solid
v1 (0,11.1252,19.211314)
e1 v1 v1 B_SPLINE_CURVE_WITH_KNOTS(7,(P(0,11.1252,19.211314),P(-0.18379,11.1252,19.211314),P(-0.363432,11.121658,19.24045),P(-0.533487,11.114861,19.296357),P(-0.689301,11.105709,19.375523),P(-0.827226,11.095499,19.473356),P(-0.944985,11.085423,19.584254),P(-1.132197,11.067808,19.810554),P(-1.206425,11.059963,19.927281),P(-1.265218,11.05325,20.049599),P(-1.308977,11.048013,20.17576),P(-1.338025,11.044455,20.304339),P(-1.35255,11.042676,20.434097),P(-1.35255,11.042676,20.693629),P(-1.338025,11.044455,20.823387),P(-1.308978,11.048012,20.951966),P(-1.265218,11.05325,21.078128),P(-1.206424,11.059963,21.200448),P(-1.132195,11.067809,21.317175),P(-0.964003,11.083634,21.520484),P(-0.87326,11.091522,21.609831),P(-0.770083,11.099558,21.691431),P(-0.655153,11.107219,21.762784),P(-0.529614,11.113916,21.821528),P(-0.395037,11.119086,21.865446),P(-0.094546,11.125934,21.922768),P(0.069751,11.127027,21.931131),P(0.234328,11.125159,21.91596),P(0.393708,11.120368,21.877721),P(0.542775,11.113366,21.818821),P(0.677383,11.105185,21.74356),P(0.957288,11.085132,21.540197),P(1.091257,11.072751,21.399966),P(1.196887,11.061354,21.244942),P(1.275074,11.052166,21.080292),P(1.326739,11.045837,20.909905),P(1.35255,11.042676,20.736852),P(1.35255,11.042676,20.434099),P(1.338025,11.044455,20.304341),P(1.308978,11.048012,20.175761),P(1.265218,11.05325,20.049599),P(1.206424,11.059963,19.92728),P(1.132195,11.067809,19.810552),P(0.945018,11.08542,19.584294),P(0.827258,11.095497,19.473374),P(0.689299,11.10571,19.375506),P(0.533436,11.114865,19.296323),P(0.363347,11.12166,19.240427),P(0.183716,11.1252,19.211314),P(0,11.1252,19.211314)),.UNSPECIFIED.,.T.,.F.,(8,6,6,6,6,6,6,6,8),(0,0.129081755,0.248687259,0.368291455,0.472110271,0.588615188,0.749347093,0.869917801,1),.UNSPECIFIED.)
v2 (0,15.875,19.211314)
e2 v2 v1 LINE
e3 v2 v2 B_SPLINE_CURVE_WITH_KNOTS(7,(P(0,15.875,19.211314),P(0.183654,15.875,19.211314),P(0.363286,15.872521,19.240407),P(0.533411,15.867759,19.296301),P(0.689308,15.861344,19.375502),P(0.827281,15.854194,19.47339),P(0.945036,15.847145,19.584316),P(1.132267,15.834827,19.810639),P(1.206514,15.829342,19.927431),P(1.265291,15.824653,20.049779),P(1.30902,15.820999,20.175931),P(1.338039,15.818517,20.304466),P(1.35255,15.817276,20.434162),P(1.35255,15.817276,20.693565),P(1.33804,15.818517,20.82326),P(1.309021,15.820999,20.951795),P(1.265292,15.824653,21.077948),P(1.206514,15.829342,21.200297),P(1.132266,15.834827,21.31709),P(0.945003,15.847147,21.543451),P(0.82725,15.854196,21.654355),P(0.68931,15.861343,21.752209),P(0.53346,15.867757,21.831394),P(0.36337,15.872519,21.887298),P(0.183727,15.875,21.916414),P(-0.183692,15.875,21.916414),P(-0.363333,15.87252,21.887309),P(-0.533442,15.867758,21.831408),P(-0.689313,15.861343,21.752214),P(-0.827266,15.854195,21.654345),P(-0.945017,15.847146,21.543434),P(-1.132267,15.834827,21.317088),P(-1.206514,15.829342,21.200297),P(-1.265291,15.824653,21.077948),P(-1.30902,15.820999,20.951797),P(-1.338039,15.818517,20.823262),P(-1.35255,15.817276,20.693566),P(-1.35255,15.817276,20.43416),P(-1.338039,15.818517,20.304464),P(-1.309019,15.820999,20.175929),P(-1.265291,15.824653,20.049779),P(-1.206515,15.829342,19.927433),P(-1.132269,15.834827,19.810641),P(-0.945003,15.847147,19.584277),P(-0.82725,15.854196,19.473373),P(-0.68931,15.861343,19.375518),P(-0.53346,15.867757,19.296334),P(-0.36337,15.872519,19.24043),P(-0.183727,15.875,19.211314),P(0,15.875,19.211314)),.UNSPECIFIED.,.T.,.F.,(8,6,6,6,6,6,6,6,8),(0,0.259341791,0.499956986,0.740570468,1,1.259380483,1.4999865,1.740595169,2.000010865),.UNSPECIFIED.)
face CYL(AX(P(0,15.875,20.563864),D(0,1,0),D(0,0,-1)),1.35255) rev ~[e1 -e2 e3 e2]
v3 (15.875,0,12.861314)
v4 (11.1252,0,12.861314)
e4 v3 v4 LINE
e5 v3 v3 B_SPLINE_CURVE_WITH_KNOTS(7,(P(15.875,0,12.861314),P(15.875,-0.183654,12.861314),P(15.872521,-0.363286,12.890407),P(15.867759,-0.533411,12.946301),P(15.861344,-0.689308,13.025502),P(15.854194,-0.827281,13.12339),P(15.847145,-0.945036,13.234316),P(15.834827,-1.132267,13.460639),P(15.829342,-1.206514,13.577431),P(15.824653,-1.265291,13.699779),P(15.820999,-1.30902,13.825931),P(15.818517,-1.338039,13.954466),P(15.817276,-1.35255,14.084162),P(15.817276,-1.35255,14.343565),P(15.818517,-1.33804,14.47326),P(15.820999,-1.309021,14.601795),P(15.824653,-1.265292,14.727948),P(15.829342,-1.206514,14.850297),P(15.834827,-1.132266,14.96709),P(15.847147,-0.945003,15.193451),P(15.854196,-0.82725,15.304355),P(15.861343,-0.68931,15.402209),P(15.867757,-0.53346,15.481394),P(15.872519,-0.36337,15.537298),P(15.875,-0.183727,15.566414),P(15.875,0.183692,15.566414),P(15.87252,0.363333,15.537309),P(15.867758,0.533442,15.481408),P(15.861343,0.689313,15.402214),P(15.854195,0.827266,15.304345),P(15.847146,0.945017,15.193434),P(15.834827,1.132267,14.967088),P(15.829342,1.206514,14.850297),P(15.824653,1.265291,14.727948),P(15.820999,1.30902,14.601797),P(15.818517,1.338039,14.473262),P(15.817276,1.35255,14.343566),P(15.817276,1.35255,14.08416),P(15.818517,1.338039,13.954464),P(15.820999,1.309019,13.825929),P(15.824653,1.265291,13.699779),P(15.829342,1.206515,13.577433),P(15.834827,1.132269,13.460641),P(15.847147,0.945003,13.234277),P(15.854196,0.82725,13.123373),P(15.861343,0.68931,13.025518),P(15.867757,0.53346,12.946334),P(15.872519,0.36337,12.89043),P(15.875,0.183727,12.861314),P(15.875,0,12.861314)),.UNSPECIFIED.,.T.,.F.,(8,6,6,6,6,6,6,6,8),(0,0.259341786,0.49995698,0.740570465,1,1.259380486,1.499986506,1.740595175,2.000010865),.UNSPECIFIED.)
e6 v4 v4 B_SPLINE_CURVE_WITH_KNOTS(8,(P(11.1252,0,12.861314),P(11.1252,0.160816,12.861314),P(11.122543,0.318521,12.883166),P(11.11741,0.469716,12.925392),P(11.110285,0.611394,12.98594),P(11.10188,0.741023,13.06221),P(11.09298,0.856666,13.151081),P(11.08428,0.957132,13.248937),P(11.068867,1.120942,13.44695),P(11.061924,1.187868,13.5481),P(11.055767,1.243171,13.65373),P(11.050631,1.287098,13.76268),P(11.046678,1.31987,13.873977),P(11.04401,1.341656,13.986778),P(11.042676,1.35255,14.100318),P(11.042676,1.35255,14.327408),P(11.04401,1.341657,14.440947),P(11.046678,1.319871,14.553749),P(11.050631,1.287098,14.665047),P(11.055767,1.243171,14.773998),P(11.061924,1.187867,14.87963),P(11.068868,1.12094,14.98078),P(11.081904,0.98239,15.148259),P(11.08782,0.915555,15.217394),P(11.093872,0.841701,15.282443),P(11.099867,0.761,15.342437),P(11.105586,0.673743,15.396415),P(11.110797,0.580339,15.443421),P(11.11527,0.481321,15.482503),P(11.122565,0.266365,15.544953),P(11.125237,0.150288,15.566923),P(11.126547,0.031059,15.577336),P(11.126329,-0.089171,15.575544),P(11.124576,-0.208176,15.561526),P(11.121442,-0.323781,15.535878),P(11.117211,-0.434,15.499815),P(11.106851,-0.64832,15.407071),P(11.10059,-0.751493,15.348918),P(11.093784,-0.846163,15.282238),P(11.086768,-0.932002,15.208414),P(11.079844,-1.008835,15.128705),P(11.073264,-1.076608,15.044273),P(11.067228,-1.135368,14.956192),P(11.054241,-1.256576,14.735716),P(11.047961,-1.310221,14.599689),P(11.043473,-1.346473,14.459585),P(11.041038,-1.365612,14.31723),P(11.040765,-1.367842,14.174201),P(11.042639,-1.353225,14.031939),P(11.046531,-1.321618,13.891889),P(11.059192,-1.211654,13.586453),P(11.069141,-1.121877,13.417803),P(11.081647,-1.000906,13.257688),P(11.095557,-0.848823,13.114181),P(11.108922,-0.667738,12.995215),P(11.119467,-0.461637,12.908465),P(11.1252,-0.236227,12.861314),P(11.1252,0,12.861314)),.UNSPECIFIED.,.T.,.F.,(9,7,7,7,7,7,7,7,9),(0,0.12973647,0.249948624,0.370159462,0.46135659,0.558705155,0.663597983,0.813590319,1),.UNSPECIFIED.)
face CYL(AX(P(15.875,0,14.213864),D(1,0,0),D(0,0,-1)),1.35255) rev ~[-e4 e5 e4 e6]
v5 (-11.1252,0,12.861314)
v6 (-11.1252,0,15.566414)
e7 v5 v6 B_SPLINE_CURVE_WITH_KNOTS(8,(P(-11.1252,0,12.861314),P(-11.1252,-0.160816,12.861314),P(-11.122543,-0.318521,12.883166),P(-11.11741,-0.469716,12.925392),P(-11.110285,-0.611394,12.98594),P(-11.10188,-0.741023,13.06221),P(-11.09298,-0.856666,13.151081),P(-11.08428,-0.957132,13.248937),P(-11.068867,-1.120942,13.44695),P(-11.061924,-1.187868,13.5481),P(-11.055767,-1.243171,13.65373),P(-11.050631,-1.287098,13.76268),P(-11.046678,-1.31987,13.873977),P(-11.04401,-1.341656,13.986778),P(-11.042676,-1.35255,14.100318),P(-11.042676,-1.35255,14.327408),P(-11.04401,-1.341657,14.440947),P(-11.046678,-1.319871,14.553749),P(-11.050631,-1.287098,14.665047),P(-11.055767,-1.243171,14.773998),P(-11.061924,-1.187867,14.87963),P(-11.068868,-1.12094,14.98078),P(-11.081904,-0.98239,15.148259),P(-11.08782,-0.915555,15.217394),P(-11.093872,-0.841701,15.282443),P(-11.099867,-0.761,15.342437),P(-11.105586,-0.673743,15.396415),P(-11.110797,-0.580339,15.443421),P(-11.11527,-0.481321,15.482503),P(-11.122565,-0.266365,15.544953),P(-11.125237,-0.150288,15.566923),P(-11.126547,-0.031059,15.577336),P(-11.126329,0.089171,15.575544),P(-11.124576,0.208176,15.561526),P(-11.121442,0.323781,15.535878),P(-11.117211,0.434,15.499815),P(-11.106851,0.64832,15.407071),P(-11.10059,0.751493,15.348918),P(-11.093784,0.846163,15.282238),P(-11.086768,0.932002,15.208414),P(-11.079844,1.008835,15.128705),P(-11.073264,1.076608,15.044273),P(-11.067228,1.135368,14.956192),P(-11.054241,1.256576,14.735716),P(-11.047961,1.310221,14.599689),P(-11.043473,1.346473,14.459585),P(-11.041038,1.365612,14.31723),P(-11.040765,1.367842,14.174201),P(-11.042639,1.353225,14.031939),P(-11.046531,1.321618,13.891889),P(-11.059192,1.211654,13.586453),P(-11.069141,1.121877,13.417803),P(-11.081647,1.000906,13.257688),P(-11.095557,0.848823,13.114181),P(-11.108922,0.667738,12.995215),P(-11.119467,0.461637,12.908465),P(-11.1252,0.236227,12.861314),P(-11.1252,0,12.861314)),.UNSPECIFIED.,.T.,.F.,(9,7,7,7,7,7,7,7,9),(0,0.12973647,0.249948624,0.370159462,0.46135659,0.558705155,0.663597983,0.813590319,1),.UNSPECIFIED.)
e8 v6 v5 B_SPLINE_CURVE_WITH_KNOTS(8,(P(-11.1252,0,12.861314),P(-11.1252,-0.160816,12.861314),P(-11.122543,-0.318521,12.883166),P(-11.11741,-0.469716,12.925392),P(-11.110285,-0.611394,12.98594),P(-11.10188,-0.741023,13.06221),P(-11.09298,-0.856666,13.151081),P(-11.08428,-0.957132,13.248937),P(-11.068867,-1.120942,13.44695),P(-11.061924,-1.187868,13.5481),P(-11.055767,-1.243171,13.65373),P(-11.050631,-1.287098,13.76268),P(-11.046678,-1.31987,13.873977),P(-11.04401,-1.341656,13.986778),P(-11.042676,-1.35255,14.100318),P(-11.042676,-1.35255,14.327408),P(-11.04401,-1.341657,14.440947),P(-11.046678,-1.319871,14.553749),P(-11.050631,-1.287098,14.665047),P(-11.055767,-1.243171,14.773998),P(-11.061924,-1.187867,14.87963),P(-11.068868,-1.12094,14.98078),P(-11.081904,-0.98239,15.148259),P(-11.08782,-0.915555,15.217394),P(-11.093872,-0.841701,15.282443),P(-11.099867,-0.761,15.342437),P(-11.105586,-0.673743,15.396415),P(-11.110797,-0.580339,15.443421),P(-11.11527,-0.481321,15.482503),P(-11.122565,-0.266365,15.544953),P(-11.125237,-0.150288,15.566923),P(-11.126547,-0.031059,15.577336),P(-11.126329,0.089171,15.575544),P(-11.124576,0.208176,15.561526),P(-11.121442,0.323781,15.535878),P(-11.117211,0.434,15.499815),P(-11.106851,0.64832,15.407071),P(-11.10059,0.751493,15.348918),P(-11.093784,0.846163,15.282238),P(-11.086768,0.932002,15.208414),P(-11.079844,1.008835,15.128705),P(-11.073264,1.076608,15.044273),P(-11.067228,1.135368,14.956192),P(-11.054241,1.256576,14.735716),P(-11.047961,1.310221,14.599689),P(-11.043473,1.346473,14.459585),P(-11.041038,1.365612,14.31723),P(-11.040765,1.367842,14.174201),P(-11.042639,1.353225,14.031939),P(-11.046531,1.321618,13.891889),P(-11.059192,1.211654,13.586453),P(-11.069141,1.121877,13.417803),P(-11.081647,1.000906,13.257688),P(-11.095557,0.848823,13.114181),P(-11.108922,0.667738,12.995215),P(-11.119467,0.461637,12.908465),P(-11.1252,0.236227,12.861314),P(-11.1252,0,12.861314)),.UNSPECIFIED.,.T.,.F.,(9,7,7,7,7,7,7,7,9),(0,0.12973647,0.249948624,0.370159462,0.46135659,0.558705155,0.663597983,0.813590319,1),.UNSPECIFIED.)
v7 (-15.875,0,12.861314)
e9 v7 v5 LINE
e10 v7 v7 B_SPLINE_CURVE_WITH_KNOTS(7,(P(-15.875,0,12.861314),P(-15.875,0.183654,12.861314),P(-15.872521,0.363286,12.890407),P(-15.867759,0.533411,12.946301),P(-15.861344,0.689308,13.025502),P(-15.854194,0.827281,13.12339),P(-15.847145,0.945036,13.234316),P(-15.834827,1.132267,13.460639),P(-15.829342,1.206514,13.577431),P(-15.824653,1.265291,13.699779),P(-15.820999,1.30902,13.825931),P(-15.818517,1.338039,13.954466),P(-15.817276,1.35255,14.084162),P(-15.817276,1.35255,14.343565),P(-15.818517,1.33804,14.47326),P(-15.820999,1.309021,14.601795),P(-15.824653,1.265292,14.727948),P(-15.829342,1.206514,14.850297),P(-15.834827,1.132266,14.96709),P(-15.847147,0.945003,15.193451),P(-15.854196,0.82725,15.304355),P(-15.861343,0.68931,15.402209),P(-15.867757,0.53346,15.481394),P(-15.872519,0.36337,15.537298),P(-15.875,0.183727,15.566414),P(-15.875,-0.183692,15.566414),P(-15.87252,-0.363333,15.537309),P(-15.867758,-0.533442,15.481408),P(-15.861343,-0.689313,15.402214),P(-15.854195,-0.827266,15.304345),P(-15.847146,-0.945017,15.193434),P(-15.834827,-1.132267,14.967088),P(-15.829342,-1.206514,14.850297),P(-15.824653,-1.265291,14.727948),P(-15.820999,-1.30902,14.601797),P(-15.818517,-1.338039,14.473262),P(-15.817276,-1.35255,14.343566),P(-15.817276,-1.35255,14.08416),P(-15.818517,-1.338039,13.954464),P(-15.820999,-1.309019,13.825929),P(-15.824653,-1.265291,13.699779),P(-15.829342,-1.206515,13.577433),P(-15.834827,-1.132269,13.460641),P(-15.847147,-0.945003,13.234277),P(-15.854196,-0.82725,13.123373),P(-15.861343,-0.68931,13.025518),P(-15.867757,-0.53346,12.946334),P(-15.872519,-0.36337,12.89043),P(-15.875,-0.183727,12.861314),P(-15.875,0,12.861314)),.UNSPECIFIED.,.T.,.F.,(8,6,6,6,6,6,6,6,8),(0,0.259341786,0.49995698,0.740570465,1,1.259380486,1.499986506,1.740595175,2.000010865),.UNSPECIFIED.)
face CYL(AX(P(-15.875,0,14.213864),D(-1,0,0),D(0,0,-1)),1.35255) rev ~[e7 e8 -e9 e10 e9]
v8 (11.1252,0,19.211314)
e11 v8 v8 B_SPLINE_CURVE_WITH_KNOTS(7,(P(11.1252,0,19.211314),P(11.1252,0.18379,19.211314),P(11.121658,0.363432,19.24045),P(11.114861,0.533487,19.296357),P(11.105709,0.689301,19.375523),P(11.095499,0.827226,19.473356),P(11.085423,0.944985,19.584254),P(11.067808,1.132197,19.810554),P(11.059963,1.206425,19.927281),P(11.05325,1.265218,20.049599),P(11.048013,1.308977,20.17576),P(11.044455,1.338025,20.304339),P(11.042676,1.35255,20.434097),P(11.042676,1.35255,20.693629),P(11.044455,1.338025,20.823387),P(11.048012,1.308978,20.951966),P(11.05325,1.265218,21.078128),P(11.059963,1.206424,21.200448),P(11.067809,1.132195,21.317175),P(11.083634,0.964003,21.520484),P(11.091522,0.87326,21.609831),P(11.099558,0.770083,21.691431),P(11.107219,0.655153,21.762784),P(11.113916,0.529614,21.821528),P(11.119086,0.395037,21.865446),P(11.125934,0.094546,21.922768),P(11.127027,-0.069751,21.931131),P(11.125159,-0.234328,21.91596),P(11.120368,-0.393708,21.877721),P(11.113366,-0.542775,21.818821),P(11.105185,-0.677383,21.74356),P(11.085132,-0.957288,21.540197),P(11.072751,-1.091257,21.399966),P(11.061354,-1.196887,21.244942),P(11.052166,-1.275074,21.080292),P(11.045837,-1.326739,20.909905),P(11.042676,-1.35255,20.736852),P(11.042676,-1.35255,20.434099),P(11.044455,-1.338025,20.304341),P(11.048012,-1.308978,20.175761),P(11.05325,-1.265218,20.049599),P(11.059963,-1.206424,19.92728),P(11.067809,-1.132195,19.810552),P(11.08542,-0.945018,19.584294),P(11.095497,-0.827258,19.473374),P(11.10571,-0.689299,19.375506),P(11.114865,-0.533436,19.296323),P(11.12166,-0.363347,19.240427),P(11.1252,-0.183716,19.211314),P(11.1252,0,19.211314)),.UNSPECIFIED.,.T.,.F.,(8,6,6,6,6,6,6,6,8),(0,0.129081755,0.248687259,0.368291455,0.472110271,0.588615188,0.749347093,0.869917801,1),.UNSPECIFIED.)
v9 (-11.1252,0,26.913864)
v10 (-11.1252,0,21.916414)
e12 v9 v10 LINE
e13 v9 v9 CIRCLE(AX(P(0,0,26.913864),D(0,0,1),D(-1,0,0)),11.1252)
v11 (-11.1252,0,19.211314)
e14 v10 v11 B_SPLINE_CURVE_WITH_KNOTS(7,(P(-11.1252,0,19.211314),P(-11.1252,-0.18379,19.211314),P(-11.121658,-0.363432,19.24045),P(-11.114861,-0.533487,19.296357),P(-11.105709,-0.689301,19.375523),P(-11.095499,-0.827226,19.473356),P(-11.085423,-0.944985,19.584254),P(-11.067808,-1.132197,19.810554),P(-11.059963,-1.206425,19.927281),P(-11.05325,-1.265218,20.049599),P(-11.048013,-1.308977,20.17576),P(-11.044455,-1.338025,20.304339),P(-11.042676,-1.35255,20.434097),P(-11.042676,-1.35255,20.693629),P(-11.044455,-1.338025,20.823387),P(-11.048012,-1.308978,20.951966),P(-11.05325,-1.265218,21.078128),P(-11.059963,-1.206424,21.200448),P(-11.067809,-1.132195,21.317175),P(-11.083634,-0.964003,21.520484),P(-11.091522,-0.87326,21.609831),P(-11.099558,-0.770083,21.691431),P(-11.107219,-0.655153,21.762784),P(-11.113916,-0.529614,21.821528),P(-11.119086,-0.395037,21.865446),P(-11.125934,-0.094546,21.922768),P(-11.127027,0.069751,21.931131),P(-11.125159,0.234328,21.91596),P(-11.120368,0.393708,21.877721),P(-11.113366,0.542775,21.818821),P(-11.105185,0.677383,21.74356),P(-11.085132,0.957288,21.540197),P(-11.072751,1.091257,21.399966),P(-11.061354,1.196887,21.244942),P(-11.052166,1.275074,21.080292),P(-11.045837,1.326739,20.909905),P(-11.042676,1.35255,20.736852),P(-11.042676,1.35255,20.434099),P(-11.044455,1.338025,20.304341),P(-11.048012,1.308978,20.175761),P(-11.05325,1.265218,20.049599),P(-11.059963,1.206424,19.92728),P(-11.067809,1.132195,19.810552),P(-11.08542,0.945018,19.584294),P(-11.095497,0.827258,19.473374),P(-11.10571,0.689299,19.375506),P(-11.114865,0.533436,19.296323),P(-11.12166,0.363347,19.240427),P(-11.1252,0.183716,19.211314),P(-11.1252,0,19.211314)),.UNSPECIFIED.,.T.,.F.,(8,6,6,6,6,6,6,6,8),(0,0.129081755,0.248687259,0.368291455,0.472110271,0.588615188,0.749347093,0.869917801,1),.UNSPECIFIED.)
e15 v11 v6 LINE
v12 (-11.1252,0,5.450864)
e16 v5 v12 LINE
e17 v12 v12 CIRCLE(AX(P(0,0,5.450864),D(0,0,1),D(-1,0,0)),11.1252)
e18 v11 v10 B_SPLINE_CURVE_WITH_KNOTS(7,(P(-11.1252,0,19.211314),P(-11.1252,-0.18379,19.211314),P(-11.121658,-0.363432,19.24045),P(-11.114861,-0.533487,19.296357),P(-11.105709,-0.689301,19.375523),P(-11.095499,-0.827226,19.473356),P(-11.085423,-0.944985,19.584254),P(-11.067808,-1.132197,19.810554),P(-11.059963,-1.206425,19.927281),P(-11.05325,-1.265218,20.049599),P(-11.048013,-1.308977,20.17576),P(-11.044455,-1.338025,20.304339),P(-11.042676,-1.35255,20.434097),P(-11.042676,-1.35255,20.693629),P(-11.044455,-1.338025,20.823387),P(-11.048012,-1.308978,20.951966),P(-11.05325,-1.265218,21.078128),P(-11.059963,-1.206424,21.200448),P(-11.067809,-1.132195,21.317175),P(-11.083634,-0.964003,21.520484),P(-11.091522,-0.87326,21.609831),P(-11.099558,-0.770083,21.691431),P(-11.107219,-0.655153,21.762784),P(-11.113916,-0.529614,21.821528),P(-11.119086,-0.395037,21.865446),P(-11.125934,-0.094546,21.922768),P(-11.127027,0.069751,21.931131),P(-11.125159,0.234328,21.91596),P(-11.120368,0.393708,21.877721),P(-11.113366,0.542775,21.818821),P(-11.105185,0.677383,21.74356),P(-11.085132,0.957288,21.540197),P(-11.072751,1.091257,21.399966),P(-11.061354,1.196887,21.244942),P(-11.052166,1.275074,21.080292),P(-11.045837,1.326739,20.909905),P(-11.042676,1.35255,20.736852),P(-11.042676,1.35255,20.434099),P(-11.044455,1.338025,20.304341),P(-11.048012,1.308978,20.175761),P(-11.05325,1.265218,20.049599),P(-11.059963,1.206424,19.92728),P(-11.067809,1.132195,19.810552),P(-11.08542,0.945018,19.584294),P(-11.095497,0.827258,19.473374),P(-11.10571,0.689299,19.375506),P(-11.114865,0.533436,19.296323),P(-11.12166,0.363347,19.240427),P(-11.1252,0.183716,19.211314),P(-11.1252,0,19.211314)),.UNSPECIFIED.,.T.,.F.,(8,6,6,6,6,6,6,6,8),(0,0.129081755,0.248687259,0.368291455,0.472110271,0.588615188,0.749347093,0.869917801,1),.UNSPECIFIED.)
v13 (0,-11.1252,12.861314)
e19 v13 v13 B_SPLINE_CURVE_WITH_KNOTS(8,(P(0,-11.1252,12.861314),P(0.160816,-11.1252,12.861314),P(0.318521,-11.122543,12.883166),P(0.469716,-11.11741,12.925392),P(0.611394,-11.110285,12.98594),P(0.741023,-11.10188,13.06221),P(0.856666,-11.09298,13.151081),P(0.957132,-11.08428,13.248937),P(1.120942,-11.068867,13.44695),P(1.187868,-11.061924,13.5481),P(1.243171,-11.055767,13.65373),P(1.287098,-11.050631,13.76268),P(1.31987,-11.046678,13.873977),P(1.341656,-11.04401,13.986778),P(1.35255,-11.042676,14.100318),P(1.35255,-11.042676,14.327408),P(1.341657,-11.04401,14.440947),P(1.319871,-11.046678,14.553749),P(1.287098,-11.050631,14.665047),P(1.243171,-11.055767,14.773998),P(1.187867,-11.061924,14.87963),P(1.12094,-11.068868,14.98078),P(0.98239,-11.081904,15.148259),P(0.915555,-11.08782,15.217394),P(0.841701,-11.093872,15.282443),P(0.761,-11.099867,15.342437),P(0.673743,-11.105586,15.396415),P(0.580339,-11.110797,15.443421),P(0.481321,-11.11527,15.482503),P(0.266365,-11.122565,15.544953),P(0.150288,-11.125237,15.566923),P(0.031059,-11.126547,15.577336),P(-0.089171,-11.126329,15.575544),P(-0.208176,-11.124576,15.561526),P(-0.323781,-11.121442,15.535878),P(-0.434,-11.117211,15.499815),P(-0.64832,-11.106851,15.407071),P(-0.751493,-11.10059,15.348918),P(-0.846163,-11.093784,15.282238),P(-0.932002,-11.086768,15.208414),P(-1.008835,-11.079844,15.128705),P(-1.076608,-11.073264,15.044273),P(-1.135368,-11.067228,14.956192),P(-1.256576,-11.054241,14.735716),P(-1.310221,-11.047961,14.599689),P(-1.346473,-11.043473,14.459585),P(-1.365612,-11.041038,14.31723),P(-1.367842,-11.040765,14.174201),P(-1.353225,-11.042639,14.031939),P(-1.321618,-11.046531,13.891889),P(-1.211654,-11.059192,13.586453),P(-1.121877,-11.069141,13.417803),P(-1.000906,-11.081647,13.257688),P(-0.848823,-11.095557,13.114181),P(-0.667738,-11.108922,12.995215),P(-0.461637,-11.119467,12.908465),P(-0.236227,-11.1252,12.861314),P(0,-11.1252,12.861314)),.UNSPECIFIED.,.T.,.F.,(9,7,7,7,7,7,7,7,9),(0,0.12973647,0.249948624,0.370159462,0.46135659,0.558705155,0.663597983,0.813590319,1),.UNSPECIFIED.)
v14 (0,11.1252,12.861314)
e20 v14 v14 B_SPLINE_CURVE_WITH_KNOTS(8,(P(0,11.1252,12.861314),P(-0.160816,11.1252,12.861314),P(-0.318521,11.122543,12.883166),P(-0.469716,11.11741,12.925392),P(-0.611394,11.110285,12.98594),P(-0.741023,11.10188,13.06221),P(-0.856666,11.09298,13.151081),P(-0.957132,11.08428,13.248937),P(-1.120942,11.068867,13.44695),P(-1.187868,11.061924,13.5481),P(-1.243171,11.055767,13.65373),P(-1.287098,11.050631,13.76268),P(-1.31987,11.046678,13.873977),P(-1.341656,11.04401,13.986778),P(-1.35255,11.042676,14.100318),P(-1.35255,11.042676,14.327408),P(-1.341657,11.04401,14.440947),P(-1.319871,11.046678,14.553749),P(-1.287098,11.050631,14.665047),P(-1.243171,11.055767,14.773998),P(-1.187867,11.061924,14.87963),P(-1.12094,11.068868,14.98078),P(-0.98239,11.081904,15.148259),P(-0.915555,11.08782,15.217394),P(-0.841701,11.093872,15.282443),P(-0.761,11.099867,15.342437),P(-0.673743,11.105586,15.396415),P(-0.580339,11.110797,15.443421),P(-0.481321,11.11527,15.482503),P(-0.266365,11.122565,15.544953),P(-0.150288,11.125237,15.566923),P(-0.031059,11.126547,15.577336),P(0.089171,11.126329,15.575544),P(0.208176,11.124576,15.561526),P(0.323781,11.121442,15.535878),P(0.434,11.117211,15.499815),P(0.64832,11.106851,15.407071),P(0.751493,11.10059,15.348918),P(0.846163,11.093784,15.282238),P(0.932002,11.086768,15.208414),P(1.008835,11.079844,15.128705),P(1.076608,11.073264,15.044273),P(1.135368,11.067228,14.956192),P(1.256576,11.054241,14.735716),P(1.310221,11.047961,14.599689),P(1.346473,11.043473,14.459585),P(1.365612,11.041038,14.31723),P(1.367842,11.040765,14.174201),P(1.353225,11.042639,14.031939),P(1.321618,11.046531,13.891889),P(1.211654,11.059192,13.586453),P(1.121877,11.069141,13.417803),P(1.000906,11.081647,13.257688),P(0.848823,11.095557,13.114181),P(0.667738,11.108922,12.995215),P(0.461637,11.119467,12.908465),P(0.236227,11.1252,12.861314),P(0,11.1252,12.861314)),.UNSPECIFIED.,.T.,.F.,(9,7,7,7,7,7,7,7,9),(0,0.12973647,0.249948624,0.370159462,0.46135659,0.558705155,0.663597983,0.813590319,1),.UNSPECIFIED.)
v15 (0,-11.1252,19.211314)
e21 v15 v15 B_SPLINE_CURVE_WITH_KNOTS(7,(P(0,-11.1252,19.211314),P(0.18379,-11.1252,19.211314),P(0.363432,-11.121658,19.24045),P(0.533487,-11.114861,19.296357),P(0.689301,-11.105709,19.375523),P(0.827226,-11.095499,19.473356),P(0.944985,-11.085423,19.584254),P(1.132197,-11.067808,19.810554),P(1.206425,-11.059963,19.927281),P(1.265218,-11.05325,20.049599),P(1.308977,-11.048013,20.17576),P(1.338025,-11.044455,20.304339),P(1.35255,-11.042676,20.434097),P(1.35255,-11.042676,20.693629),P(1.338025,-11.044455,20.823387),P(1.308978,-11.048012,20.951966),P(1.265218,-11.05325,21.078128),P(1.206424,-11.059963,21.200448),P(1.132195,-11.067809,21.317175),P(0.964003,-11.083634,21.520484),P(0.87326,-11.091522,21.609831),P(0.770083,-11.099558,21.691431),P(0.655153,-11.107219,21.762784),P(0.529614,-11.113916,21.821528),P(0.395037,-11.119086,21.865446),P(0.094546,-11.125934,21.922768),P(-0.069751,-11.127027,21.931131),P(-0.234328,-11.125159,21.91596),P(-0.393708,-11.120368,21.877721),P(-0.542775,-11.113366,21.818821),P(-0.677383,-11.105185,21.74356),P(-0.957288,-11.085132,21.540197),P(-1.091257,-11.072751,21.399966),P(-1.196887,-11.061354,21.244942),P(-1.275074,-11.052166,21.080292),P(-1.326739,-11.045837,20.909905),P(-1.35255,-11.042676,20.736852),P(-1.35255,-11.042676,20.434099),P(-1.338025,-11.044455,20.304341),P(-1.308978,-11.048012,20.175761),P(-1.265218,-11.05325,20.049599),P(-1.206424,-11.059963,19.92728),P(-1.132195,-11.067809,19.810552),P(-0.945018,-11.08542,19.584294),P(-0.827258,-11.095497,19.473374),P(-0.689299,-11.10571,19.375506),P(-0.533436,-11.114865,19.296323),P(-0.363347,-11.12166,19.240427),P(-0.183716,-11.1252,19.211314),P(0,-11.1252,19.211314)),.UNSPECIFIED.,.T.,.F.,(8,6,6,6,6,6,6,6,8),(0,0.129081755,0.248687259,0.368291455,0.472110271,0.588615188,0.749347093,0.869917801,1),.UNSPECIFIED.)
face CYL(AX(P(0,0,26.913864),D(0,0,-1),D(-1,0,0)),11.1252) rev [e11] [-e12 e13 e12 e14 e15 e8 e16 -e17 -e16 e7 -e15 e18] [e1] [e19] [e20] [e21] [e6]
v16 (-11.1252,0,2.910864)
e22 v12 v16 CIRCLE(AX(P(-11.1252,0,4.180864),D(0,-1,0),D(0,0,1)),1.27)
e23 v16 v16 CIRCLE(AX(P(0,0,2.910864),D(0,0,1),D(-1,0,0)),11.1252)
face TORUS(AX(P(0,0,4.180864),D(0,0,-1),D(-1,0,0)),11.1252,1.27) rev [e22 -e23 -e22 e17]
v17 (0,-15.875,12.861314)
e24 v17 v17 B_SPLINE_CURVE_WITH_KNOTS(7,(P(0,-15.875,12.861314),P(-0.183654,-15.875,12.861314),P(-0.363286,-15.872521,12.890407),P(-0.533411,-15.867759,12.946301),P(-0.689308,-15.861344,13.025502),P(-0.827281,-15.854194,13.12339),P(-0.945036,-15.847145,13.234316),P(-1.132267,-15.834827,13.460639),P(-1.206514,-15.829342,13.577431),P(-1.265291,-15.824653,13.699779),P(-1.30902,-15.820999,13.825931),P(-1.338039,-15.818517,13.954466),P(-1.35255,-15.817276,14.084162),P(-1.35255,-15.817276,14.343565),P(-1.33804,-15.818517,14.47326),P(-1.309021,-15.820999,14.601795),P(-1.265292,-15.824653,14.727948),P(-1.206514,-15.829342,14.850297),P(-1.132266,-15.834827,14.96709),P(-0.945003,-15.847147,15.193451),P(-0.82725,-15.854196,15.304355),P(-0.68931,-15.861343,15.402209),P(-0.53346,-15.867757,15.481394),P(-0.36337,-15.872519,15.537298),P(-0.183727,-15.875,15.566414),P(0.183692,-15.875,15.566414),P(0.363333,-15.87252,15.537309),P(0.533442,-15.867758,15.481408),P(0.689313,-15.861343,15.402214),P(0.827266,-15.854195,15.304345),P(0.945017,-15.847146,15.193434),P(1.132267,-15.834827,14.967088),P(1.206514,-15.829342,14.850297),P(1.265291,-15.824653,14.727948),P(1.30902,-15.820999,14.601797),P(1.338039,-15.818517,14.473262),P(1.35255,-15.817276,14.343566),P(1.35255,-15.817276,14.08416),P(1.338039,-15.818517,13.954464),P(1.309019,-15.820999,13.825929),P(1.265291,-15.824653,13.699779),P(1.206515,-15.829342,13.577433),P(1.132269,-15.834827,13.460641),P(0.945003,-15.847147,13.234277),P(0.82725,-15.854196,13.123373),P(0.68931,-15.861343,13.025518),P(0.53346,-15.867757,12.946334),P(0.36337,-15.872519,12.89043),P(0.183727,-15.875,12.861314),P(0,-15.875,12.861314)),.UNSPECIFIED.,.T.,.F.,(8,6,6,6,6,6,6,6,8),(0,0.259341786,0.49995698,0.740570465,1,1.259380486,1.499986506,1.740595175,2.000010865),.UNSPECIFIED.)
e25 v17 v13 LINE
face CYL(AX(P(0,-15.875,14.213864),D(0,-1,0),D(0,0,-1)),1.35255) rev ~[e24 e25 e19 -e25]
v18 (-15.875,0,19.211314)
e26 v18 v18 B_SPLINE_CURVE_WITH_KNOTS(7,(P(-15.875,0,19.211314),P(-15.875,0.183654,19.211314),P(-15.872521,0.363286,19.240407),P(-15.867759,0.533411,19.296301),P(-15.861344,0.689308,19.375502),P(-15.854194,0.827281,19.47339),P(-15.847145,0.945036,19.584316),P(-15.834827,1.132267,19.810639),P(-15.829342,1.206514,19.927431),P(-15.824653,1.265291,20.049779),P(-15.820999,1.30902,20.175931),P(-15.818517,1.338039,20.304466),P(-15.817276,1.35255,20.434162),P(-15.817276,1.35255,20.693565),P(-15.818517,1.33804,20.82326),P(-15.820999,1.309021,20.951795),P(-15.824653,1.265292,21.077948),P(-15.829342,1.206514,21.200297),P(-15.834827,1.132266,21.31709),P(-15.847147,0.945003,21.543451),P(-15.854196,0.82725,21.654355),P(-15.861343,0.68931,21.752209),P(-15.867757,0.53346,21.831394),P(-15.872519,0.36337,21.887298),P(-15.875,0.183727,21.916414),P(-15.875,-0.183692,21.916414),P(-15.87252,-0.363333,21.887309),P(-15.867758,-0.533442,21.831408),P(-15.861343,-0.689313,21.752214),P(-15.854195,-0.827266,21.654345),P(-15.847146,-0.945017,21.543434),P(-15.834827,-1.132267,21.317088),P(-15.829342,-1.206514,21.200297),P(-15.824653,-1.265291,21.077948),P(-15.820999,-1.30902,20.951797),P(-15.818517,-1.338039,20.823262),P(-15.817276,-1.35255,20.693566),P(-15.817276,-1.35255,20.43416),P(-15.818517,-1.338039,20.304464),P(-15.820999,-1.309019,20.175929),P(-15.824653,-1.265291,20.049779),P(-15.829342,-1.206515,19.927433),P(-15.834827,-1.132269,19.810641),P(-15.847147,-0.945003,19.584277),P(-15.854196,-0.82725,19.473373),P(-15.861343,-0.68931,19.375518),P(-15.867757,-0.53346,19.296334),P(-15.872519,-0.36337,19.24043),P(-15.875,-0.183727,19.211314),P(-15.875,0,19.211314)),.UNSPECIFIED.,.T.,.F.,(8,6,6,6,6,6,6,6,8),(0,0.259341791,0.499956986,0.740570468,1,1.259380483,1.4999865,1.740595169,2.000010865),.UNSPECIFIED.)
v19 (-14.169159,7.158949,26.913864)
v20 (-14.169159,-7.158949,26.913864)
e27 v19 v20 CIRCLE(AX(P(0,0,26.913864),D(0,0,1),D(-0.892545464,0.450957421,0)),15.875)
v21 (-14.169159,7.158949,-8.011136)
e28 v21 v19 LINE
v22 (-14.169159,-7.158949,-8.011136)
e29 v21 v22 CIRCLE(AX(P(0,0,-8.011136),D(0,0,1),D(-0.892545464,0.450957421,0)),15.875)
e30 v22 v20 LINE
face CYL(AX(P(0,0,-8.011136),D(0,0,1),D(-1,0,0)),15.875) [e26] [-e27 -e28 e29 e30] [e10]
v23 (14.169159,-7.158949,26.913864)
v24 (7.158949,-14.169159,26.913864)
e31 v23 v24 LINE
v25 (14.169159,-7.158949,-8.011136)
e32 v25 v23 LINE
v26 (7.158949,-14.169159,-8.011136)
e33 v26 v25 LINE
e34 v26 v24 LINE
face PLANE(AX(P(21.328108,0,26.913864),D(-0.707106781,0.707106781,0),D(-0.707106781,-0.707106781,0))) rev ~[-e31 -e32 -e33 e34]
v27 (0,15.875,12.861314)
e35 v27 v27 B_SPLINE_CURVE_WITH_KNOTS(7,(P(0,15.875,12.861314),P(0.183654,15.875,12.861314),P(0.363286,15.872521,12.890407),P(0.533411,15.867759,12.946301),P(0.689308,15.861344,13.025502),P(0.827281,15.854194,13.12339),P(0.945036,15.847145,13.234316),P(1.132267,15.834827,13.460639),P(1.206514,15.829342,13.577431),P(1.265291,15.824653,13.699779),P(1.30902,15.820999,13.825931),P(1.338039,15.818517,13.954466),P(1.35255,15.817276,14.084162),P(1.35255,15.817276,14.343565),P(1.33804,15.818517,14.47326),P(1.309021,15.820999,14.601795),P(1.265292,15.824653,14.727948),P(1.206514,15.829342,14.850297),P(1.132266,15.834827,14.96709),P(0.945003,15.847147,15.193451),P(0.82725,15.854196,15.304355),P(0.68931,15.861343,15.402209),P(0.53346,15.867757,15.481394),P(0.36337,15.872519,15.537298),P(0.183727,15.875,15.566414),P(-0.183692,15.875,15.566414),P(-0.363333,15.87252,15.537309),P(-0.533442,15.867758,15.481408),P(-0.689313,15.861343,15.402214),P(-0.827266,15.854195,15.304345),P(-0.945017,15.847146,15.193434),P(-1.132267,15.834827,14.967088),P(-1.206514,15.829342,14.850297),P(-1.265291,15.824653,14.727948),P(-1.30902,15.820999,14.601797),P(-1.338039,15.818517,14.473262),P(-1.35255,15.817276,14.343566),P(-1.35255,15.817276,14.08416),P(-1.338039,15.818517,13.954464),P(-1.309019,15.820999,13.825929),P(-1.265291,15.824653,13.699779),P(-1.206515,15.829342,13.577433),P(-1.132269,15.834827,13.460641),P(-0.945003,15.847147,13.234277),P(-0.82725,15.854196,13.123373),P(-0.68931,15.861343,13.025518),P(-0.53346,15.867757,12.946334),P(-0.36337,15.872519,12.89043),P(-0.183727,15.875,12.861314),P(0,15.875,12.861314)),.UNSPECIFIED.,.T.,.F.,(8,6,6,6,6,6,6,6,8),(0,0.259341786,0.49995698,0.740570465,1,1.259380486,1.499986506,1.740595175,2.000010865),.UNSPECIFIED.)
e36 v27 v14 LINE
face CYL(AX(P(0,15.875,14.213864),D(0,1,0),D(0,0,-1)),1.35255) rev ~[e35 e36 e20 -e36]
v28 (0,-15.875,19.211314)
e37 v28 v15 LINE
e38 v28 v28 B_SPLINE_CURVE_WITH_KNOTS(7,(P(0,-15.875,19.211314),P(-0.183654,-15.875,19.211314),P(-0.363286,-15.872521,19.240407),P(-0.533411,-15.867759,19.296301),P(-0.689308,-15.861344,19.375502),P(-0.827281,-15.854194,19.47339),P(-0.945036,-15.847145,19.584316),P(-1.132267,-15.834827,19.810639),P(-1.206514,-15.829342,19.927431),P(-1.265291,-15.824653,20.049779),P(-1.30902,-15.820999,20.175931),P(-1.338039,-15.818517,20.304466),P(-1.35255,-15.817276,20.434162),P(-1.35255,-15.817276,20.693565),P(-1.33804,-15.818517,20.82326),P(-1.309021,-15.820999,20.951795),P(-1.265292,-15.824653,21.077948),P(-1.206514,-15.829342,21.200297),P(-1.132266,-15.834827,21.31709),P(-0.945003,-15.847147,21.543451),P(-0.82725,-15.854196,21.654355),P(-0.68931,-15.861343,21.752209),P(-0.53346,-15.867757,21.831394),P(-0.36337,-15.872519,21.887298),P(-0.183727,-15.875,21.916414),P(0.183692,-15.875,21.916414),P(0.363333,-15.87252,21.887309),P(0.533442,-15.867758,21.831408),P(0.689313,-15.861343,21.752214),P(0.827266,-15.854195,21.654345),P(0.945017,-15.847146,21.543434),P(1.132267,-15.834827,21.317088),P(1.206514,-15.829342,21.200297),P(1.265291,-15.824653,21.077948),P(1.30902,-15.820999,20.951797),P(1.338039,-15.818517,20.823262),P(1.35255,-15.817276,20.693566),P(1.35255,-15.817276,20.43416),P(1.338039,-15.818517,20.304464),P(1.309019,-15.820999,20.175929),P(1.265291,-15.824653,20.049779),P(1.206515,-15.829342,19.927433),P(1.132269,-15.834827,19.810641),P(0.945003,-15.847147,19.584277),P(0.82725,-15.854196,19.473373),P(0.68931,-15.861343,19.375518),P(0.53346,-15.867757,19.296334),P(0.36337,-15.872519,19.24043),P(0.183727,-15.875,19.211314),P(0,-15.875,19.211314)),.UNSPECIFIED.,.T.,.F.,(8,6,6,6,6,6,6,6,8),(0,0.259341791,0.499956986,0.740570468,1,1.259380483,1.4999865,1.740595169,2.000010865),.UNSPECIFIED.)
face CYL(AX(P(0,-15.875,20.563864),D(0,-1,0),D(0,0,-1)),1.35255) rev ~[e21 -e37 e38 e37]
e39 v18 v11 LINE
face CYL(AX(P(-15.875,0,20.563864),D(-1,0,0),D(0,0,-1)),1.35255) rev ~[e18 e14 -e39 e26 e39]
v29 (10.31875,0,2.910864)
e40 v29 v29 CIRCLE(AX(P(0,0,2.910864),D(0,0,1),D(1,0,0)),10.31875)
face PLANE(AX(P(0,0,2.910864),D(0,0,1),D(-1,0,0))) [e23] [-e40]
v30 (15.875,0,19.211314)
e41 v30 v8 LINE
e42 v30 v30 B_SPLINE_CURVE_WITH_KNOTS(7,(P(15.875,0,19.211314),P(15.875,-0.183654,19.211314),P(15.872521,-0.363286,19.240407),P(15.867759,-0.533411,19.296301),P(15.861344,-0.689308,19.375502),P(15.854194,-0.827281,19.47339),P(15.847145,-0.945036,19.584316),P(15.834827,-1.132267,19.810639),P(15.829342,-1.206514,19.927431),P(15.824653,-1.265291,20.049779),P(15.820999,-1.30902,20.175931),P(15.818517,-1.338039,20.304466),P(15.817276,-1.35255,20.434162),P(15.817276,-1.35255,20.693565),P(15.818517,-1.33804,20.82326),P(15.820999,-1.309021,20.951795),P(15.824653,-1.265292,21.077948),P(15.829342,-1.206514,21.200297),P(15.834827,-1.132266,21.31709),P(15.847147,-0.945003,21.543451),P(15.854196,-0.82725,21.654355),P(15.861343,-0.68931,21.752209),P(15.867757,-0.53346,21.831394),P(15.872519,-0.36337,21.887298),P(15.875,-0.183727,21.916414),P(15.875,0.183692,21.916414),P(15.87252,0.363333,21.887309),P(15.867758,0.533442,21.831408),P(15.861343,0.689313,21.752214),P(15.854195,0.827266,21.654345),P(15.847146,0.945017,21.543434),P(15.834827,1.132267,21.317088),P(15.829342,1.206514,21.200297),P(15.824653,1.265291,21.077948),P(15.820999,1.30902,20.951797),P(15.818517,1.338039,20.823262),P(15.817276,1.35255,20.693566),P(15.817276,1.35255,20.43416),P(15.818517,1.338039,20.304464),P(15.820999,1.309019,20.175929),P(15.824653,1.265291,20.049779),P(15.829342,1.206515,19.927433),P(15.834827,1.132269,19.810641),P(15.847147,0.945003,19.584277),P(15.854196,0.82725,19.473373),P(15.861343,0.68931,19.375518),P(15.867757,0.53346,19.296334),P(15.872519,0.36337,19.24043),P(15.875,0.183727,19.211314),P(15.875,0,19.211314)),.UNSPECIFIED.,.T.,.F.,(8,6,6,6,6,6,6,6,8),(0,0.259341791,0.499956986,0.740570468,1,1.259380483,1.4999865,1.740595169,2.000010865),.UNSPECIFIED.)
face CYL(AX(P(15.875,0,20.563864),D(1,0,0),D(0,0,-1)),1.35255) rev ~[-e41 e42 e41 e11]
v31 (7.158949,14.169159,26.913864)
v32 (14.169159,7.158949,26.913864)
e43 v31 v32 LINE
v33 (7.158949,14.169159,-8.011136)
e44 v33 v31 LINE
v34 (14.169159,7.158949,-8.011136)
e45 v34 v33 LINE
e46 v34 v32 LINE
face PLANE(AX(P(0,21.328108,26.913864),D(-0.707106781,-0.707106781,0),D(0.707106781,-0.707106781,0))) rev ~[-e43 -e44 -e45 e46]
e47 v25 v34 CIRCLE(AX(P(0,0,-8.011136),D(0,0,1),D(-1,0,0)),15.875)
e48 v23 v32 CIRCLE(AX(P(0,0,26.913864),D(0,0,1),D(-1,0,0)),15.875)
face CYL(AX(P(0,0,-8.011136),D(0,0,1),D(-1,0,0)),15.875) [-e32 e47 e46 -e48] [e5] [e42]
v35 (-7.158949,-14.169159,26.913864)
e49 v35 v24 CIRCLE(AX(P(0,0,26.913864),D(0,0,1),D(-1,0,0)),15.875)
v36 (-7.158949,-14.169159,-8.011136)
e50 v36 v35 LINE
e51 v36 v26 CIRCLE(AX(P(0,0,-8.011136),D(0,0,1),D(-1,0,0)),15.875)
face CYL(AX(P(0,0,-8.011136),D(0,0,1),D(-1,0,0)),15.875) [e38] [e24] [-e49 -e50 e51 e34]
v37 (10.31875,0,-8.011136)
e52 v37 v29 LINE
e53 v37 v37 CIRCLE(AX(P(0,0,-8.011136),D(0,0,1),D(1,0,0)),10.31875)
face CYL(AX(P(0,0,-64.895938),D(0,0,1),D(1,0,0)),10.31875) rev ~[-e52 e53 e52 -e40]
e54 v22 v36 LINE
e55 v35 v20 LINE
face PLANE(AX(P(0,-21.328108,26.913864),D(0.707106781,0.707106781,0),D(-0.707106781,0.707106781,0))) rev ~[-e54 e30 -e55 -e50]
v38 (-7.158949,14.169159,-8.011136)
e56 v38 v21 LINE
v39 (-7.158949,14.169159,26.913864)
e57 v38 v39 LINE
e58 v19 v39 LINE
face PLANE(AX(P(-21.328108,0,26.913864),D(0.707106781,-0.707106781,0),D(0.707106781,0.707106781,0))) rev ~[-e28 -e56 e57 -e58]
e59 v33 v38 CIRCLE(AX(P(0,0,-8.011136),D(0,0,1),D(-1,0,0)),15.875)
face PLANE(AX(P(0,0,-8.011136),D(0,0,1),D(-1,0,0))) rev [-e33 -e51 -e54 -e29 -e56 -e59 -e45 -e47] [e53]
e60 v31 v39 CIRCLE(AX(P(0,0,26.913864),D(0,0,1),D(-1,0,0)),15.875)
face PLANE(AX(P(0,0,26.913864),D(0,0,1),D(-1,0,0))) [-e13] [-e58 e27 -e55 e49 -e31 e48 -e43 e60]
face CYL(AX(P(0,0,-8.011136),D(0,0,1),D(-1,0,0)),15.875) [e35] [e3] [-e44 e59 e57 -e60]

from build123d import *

# Parameters (mm, degrees)
SKETCH2_OUTSIDE_W          = 45.126
SKETCH2_OUTSIDE_H          = 45.126
CUT_EXTRUDE1_DEPTH         = 42.518512437
F_6_32_TAPPED_HOLE1_REACH  = 46.547
F_6_32_TAPPED_HOLE1_BORE_R = 1.35255
CIRPATTERN1_COUNT          = 4
F_7_8_14_TAPPED_HOLE1_D    = 20.6375


with BuildPart() as part:
    # Sketch1 → Revolve1 (revolve)
    with BuildSketch(Plane(origin=(0, 0, 0), x_dir=(0, 0, -1), z_dir=(1, 0, 0)), mode=Mode.PRIVATE) as revolve1_sk:
        with BuildLine():
            Line((-26.913863801, 11.1252), (-5.450863801, 11.1252))
            ThreePointArc((-5.450863801, 11.1252), (-4.180863801, 12.3952), (-2.910863801, 11.1252))
            Line((-2.910863801, 11.1252), (-2.910863801, 9.9695))
            Line((-2.910863801, 9.9695), (8.011136199, 9.9695))
            Line((8.011136199, 9.9695), (8.011136199, 15.875))
            Line((8.011136199, 15.875), (-26.913863801, 15.875))
            Line((-26.913863801, 15.875), (-26.913863801, 11.1252))
        make_face()
    revolve(revolve1_sk.sketch.rotate(Axis((0, 0, 0), (0, 0, 1)), 90), axis=Axis((0, 0, 0), (0, 0, 1)))

    # Sketch2 outside → Cut-Extrude1 (cut, through all)
    with BuildSketch(Plane.XY.offset(26.913863801)):
        Rectangle(SKETCH2_OUTSIDE_W, SKETCH2_OUTSIDE_H)
        Polygon((0, -21.328108288), (-21.328108288, 0), (0, 21.328108288), (21.328108288, 0), align=None, mode=Mode.SUBTRACT)
    extrude(amount=-CUT_EXTRUDE1_DEPTH, mode=Mode.SUBTRACT)

    # 6-32 Tapped Hole1 bore → 6-32 Tapped Hole1 (cut, up to next)
    with BuildSketch(Plane(origin=(15.875, 0, 0), x_dir=(0, 0, -1), z_dir=(1, 0, 0)), mode=Mode.PRIVATE) as f_6_32_tapped_hole1_sk1:
        with Locations((-20.563863801, 0)):
            Circle(F_6_32_TAPPED_HOLE1_BORE_R)
    f_6_32_tapped_hole1_tool1 = extrude(f_6_32_tapped_hole1_sk1.sketch, amount=-F_6_32_TAPPED_HOLE1_REACH, mode=Mode.PRIVATE) & part.part
    # 6-32 Tapped Hole1 bore → 6-32 Tapped Hole1 (cut, up to next)
    with BuildSketch(Plane(origin=(15.875, 0, 0), x_dir=(0, 0, -1), z_dir=(1, 0, 0)), mode=Mode.PRIVATE) as f_6_32_tapped_hole1_sk2:
        with Locations((-14.213863801, 0)):
            Circle(F_6_32_TAPPED_HOLE1_BORE_R)
    f_6_32_tapped_hole1_tool2 = extrude(f_6_32_tapped_hole1_sk2.sketch, amount=-F_6_32_TAPPED_HOLE1_REACH, mode=Mode.PRIVATE) & part.part
    f_6_32_tapped_hole1_1 = f_6_32_tapped_hole1_tool1.solids().sort_by_distance((15.875, 0, 20.563864))[0]
    add(f_6_32_tapped_hole1_1, mode=Mode.SUBTRACT)
    f_6_32_tapped_hole1_2 = f_6_32_tapped_hole1_tool2.solids().sort_by_distance((15.875, 0, 14.213864))[0]
    add(f_6_32_tapped_hole1_2, mode=Mode.SUBTRACT)
    f_6_32_tapped_hole1 = f_6_32_tapped_hole1_1 + f_6_32_tapped_hole1_2  # 6-32 Tapped Hole1 as one shape, for the pattern or mirror that repeats it

    # CirPattern1: 6-32 Tapped Hole1 ×4 about axis
    cirpattern1_axis = Axis((0, 0, 0), (0, 0, -1))
    for i in range(1, CIRPATTERN1_COUNT):
        add(f_6_32_tapped_hole1.rotate(cirpattern1_axis, i * 360 / CIRPATTERN1_COUNT), mode=Mode.SUBTRACT)

    # 7_8-14 Tapped Hole1 (through all)
    with Locations(Plane(origin=(0, 0, -8.011136199), x_dir=(-1, 0, 0), z_dir=(0, 0, -1))):
        with Locations((0, 0)):
            Hole(F_7_8_14_TAPPED_HOLE1_D / 2)


solid = part.part
